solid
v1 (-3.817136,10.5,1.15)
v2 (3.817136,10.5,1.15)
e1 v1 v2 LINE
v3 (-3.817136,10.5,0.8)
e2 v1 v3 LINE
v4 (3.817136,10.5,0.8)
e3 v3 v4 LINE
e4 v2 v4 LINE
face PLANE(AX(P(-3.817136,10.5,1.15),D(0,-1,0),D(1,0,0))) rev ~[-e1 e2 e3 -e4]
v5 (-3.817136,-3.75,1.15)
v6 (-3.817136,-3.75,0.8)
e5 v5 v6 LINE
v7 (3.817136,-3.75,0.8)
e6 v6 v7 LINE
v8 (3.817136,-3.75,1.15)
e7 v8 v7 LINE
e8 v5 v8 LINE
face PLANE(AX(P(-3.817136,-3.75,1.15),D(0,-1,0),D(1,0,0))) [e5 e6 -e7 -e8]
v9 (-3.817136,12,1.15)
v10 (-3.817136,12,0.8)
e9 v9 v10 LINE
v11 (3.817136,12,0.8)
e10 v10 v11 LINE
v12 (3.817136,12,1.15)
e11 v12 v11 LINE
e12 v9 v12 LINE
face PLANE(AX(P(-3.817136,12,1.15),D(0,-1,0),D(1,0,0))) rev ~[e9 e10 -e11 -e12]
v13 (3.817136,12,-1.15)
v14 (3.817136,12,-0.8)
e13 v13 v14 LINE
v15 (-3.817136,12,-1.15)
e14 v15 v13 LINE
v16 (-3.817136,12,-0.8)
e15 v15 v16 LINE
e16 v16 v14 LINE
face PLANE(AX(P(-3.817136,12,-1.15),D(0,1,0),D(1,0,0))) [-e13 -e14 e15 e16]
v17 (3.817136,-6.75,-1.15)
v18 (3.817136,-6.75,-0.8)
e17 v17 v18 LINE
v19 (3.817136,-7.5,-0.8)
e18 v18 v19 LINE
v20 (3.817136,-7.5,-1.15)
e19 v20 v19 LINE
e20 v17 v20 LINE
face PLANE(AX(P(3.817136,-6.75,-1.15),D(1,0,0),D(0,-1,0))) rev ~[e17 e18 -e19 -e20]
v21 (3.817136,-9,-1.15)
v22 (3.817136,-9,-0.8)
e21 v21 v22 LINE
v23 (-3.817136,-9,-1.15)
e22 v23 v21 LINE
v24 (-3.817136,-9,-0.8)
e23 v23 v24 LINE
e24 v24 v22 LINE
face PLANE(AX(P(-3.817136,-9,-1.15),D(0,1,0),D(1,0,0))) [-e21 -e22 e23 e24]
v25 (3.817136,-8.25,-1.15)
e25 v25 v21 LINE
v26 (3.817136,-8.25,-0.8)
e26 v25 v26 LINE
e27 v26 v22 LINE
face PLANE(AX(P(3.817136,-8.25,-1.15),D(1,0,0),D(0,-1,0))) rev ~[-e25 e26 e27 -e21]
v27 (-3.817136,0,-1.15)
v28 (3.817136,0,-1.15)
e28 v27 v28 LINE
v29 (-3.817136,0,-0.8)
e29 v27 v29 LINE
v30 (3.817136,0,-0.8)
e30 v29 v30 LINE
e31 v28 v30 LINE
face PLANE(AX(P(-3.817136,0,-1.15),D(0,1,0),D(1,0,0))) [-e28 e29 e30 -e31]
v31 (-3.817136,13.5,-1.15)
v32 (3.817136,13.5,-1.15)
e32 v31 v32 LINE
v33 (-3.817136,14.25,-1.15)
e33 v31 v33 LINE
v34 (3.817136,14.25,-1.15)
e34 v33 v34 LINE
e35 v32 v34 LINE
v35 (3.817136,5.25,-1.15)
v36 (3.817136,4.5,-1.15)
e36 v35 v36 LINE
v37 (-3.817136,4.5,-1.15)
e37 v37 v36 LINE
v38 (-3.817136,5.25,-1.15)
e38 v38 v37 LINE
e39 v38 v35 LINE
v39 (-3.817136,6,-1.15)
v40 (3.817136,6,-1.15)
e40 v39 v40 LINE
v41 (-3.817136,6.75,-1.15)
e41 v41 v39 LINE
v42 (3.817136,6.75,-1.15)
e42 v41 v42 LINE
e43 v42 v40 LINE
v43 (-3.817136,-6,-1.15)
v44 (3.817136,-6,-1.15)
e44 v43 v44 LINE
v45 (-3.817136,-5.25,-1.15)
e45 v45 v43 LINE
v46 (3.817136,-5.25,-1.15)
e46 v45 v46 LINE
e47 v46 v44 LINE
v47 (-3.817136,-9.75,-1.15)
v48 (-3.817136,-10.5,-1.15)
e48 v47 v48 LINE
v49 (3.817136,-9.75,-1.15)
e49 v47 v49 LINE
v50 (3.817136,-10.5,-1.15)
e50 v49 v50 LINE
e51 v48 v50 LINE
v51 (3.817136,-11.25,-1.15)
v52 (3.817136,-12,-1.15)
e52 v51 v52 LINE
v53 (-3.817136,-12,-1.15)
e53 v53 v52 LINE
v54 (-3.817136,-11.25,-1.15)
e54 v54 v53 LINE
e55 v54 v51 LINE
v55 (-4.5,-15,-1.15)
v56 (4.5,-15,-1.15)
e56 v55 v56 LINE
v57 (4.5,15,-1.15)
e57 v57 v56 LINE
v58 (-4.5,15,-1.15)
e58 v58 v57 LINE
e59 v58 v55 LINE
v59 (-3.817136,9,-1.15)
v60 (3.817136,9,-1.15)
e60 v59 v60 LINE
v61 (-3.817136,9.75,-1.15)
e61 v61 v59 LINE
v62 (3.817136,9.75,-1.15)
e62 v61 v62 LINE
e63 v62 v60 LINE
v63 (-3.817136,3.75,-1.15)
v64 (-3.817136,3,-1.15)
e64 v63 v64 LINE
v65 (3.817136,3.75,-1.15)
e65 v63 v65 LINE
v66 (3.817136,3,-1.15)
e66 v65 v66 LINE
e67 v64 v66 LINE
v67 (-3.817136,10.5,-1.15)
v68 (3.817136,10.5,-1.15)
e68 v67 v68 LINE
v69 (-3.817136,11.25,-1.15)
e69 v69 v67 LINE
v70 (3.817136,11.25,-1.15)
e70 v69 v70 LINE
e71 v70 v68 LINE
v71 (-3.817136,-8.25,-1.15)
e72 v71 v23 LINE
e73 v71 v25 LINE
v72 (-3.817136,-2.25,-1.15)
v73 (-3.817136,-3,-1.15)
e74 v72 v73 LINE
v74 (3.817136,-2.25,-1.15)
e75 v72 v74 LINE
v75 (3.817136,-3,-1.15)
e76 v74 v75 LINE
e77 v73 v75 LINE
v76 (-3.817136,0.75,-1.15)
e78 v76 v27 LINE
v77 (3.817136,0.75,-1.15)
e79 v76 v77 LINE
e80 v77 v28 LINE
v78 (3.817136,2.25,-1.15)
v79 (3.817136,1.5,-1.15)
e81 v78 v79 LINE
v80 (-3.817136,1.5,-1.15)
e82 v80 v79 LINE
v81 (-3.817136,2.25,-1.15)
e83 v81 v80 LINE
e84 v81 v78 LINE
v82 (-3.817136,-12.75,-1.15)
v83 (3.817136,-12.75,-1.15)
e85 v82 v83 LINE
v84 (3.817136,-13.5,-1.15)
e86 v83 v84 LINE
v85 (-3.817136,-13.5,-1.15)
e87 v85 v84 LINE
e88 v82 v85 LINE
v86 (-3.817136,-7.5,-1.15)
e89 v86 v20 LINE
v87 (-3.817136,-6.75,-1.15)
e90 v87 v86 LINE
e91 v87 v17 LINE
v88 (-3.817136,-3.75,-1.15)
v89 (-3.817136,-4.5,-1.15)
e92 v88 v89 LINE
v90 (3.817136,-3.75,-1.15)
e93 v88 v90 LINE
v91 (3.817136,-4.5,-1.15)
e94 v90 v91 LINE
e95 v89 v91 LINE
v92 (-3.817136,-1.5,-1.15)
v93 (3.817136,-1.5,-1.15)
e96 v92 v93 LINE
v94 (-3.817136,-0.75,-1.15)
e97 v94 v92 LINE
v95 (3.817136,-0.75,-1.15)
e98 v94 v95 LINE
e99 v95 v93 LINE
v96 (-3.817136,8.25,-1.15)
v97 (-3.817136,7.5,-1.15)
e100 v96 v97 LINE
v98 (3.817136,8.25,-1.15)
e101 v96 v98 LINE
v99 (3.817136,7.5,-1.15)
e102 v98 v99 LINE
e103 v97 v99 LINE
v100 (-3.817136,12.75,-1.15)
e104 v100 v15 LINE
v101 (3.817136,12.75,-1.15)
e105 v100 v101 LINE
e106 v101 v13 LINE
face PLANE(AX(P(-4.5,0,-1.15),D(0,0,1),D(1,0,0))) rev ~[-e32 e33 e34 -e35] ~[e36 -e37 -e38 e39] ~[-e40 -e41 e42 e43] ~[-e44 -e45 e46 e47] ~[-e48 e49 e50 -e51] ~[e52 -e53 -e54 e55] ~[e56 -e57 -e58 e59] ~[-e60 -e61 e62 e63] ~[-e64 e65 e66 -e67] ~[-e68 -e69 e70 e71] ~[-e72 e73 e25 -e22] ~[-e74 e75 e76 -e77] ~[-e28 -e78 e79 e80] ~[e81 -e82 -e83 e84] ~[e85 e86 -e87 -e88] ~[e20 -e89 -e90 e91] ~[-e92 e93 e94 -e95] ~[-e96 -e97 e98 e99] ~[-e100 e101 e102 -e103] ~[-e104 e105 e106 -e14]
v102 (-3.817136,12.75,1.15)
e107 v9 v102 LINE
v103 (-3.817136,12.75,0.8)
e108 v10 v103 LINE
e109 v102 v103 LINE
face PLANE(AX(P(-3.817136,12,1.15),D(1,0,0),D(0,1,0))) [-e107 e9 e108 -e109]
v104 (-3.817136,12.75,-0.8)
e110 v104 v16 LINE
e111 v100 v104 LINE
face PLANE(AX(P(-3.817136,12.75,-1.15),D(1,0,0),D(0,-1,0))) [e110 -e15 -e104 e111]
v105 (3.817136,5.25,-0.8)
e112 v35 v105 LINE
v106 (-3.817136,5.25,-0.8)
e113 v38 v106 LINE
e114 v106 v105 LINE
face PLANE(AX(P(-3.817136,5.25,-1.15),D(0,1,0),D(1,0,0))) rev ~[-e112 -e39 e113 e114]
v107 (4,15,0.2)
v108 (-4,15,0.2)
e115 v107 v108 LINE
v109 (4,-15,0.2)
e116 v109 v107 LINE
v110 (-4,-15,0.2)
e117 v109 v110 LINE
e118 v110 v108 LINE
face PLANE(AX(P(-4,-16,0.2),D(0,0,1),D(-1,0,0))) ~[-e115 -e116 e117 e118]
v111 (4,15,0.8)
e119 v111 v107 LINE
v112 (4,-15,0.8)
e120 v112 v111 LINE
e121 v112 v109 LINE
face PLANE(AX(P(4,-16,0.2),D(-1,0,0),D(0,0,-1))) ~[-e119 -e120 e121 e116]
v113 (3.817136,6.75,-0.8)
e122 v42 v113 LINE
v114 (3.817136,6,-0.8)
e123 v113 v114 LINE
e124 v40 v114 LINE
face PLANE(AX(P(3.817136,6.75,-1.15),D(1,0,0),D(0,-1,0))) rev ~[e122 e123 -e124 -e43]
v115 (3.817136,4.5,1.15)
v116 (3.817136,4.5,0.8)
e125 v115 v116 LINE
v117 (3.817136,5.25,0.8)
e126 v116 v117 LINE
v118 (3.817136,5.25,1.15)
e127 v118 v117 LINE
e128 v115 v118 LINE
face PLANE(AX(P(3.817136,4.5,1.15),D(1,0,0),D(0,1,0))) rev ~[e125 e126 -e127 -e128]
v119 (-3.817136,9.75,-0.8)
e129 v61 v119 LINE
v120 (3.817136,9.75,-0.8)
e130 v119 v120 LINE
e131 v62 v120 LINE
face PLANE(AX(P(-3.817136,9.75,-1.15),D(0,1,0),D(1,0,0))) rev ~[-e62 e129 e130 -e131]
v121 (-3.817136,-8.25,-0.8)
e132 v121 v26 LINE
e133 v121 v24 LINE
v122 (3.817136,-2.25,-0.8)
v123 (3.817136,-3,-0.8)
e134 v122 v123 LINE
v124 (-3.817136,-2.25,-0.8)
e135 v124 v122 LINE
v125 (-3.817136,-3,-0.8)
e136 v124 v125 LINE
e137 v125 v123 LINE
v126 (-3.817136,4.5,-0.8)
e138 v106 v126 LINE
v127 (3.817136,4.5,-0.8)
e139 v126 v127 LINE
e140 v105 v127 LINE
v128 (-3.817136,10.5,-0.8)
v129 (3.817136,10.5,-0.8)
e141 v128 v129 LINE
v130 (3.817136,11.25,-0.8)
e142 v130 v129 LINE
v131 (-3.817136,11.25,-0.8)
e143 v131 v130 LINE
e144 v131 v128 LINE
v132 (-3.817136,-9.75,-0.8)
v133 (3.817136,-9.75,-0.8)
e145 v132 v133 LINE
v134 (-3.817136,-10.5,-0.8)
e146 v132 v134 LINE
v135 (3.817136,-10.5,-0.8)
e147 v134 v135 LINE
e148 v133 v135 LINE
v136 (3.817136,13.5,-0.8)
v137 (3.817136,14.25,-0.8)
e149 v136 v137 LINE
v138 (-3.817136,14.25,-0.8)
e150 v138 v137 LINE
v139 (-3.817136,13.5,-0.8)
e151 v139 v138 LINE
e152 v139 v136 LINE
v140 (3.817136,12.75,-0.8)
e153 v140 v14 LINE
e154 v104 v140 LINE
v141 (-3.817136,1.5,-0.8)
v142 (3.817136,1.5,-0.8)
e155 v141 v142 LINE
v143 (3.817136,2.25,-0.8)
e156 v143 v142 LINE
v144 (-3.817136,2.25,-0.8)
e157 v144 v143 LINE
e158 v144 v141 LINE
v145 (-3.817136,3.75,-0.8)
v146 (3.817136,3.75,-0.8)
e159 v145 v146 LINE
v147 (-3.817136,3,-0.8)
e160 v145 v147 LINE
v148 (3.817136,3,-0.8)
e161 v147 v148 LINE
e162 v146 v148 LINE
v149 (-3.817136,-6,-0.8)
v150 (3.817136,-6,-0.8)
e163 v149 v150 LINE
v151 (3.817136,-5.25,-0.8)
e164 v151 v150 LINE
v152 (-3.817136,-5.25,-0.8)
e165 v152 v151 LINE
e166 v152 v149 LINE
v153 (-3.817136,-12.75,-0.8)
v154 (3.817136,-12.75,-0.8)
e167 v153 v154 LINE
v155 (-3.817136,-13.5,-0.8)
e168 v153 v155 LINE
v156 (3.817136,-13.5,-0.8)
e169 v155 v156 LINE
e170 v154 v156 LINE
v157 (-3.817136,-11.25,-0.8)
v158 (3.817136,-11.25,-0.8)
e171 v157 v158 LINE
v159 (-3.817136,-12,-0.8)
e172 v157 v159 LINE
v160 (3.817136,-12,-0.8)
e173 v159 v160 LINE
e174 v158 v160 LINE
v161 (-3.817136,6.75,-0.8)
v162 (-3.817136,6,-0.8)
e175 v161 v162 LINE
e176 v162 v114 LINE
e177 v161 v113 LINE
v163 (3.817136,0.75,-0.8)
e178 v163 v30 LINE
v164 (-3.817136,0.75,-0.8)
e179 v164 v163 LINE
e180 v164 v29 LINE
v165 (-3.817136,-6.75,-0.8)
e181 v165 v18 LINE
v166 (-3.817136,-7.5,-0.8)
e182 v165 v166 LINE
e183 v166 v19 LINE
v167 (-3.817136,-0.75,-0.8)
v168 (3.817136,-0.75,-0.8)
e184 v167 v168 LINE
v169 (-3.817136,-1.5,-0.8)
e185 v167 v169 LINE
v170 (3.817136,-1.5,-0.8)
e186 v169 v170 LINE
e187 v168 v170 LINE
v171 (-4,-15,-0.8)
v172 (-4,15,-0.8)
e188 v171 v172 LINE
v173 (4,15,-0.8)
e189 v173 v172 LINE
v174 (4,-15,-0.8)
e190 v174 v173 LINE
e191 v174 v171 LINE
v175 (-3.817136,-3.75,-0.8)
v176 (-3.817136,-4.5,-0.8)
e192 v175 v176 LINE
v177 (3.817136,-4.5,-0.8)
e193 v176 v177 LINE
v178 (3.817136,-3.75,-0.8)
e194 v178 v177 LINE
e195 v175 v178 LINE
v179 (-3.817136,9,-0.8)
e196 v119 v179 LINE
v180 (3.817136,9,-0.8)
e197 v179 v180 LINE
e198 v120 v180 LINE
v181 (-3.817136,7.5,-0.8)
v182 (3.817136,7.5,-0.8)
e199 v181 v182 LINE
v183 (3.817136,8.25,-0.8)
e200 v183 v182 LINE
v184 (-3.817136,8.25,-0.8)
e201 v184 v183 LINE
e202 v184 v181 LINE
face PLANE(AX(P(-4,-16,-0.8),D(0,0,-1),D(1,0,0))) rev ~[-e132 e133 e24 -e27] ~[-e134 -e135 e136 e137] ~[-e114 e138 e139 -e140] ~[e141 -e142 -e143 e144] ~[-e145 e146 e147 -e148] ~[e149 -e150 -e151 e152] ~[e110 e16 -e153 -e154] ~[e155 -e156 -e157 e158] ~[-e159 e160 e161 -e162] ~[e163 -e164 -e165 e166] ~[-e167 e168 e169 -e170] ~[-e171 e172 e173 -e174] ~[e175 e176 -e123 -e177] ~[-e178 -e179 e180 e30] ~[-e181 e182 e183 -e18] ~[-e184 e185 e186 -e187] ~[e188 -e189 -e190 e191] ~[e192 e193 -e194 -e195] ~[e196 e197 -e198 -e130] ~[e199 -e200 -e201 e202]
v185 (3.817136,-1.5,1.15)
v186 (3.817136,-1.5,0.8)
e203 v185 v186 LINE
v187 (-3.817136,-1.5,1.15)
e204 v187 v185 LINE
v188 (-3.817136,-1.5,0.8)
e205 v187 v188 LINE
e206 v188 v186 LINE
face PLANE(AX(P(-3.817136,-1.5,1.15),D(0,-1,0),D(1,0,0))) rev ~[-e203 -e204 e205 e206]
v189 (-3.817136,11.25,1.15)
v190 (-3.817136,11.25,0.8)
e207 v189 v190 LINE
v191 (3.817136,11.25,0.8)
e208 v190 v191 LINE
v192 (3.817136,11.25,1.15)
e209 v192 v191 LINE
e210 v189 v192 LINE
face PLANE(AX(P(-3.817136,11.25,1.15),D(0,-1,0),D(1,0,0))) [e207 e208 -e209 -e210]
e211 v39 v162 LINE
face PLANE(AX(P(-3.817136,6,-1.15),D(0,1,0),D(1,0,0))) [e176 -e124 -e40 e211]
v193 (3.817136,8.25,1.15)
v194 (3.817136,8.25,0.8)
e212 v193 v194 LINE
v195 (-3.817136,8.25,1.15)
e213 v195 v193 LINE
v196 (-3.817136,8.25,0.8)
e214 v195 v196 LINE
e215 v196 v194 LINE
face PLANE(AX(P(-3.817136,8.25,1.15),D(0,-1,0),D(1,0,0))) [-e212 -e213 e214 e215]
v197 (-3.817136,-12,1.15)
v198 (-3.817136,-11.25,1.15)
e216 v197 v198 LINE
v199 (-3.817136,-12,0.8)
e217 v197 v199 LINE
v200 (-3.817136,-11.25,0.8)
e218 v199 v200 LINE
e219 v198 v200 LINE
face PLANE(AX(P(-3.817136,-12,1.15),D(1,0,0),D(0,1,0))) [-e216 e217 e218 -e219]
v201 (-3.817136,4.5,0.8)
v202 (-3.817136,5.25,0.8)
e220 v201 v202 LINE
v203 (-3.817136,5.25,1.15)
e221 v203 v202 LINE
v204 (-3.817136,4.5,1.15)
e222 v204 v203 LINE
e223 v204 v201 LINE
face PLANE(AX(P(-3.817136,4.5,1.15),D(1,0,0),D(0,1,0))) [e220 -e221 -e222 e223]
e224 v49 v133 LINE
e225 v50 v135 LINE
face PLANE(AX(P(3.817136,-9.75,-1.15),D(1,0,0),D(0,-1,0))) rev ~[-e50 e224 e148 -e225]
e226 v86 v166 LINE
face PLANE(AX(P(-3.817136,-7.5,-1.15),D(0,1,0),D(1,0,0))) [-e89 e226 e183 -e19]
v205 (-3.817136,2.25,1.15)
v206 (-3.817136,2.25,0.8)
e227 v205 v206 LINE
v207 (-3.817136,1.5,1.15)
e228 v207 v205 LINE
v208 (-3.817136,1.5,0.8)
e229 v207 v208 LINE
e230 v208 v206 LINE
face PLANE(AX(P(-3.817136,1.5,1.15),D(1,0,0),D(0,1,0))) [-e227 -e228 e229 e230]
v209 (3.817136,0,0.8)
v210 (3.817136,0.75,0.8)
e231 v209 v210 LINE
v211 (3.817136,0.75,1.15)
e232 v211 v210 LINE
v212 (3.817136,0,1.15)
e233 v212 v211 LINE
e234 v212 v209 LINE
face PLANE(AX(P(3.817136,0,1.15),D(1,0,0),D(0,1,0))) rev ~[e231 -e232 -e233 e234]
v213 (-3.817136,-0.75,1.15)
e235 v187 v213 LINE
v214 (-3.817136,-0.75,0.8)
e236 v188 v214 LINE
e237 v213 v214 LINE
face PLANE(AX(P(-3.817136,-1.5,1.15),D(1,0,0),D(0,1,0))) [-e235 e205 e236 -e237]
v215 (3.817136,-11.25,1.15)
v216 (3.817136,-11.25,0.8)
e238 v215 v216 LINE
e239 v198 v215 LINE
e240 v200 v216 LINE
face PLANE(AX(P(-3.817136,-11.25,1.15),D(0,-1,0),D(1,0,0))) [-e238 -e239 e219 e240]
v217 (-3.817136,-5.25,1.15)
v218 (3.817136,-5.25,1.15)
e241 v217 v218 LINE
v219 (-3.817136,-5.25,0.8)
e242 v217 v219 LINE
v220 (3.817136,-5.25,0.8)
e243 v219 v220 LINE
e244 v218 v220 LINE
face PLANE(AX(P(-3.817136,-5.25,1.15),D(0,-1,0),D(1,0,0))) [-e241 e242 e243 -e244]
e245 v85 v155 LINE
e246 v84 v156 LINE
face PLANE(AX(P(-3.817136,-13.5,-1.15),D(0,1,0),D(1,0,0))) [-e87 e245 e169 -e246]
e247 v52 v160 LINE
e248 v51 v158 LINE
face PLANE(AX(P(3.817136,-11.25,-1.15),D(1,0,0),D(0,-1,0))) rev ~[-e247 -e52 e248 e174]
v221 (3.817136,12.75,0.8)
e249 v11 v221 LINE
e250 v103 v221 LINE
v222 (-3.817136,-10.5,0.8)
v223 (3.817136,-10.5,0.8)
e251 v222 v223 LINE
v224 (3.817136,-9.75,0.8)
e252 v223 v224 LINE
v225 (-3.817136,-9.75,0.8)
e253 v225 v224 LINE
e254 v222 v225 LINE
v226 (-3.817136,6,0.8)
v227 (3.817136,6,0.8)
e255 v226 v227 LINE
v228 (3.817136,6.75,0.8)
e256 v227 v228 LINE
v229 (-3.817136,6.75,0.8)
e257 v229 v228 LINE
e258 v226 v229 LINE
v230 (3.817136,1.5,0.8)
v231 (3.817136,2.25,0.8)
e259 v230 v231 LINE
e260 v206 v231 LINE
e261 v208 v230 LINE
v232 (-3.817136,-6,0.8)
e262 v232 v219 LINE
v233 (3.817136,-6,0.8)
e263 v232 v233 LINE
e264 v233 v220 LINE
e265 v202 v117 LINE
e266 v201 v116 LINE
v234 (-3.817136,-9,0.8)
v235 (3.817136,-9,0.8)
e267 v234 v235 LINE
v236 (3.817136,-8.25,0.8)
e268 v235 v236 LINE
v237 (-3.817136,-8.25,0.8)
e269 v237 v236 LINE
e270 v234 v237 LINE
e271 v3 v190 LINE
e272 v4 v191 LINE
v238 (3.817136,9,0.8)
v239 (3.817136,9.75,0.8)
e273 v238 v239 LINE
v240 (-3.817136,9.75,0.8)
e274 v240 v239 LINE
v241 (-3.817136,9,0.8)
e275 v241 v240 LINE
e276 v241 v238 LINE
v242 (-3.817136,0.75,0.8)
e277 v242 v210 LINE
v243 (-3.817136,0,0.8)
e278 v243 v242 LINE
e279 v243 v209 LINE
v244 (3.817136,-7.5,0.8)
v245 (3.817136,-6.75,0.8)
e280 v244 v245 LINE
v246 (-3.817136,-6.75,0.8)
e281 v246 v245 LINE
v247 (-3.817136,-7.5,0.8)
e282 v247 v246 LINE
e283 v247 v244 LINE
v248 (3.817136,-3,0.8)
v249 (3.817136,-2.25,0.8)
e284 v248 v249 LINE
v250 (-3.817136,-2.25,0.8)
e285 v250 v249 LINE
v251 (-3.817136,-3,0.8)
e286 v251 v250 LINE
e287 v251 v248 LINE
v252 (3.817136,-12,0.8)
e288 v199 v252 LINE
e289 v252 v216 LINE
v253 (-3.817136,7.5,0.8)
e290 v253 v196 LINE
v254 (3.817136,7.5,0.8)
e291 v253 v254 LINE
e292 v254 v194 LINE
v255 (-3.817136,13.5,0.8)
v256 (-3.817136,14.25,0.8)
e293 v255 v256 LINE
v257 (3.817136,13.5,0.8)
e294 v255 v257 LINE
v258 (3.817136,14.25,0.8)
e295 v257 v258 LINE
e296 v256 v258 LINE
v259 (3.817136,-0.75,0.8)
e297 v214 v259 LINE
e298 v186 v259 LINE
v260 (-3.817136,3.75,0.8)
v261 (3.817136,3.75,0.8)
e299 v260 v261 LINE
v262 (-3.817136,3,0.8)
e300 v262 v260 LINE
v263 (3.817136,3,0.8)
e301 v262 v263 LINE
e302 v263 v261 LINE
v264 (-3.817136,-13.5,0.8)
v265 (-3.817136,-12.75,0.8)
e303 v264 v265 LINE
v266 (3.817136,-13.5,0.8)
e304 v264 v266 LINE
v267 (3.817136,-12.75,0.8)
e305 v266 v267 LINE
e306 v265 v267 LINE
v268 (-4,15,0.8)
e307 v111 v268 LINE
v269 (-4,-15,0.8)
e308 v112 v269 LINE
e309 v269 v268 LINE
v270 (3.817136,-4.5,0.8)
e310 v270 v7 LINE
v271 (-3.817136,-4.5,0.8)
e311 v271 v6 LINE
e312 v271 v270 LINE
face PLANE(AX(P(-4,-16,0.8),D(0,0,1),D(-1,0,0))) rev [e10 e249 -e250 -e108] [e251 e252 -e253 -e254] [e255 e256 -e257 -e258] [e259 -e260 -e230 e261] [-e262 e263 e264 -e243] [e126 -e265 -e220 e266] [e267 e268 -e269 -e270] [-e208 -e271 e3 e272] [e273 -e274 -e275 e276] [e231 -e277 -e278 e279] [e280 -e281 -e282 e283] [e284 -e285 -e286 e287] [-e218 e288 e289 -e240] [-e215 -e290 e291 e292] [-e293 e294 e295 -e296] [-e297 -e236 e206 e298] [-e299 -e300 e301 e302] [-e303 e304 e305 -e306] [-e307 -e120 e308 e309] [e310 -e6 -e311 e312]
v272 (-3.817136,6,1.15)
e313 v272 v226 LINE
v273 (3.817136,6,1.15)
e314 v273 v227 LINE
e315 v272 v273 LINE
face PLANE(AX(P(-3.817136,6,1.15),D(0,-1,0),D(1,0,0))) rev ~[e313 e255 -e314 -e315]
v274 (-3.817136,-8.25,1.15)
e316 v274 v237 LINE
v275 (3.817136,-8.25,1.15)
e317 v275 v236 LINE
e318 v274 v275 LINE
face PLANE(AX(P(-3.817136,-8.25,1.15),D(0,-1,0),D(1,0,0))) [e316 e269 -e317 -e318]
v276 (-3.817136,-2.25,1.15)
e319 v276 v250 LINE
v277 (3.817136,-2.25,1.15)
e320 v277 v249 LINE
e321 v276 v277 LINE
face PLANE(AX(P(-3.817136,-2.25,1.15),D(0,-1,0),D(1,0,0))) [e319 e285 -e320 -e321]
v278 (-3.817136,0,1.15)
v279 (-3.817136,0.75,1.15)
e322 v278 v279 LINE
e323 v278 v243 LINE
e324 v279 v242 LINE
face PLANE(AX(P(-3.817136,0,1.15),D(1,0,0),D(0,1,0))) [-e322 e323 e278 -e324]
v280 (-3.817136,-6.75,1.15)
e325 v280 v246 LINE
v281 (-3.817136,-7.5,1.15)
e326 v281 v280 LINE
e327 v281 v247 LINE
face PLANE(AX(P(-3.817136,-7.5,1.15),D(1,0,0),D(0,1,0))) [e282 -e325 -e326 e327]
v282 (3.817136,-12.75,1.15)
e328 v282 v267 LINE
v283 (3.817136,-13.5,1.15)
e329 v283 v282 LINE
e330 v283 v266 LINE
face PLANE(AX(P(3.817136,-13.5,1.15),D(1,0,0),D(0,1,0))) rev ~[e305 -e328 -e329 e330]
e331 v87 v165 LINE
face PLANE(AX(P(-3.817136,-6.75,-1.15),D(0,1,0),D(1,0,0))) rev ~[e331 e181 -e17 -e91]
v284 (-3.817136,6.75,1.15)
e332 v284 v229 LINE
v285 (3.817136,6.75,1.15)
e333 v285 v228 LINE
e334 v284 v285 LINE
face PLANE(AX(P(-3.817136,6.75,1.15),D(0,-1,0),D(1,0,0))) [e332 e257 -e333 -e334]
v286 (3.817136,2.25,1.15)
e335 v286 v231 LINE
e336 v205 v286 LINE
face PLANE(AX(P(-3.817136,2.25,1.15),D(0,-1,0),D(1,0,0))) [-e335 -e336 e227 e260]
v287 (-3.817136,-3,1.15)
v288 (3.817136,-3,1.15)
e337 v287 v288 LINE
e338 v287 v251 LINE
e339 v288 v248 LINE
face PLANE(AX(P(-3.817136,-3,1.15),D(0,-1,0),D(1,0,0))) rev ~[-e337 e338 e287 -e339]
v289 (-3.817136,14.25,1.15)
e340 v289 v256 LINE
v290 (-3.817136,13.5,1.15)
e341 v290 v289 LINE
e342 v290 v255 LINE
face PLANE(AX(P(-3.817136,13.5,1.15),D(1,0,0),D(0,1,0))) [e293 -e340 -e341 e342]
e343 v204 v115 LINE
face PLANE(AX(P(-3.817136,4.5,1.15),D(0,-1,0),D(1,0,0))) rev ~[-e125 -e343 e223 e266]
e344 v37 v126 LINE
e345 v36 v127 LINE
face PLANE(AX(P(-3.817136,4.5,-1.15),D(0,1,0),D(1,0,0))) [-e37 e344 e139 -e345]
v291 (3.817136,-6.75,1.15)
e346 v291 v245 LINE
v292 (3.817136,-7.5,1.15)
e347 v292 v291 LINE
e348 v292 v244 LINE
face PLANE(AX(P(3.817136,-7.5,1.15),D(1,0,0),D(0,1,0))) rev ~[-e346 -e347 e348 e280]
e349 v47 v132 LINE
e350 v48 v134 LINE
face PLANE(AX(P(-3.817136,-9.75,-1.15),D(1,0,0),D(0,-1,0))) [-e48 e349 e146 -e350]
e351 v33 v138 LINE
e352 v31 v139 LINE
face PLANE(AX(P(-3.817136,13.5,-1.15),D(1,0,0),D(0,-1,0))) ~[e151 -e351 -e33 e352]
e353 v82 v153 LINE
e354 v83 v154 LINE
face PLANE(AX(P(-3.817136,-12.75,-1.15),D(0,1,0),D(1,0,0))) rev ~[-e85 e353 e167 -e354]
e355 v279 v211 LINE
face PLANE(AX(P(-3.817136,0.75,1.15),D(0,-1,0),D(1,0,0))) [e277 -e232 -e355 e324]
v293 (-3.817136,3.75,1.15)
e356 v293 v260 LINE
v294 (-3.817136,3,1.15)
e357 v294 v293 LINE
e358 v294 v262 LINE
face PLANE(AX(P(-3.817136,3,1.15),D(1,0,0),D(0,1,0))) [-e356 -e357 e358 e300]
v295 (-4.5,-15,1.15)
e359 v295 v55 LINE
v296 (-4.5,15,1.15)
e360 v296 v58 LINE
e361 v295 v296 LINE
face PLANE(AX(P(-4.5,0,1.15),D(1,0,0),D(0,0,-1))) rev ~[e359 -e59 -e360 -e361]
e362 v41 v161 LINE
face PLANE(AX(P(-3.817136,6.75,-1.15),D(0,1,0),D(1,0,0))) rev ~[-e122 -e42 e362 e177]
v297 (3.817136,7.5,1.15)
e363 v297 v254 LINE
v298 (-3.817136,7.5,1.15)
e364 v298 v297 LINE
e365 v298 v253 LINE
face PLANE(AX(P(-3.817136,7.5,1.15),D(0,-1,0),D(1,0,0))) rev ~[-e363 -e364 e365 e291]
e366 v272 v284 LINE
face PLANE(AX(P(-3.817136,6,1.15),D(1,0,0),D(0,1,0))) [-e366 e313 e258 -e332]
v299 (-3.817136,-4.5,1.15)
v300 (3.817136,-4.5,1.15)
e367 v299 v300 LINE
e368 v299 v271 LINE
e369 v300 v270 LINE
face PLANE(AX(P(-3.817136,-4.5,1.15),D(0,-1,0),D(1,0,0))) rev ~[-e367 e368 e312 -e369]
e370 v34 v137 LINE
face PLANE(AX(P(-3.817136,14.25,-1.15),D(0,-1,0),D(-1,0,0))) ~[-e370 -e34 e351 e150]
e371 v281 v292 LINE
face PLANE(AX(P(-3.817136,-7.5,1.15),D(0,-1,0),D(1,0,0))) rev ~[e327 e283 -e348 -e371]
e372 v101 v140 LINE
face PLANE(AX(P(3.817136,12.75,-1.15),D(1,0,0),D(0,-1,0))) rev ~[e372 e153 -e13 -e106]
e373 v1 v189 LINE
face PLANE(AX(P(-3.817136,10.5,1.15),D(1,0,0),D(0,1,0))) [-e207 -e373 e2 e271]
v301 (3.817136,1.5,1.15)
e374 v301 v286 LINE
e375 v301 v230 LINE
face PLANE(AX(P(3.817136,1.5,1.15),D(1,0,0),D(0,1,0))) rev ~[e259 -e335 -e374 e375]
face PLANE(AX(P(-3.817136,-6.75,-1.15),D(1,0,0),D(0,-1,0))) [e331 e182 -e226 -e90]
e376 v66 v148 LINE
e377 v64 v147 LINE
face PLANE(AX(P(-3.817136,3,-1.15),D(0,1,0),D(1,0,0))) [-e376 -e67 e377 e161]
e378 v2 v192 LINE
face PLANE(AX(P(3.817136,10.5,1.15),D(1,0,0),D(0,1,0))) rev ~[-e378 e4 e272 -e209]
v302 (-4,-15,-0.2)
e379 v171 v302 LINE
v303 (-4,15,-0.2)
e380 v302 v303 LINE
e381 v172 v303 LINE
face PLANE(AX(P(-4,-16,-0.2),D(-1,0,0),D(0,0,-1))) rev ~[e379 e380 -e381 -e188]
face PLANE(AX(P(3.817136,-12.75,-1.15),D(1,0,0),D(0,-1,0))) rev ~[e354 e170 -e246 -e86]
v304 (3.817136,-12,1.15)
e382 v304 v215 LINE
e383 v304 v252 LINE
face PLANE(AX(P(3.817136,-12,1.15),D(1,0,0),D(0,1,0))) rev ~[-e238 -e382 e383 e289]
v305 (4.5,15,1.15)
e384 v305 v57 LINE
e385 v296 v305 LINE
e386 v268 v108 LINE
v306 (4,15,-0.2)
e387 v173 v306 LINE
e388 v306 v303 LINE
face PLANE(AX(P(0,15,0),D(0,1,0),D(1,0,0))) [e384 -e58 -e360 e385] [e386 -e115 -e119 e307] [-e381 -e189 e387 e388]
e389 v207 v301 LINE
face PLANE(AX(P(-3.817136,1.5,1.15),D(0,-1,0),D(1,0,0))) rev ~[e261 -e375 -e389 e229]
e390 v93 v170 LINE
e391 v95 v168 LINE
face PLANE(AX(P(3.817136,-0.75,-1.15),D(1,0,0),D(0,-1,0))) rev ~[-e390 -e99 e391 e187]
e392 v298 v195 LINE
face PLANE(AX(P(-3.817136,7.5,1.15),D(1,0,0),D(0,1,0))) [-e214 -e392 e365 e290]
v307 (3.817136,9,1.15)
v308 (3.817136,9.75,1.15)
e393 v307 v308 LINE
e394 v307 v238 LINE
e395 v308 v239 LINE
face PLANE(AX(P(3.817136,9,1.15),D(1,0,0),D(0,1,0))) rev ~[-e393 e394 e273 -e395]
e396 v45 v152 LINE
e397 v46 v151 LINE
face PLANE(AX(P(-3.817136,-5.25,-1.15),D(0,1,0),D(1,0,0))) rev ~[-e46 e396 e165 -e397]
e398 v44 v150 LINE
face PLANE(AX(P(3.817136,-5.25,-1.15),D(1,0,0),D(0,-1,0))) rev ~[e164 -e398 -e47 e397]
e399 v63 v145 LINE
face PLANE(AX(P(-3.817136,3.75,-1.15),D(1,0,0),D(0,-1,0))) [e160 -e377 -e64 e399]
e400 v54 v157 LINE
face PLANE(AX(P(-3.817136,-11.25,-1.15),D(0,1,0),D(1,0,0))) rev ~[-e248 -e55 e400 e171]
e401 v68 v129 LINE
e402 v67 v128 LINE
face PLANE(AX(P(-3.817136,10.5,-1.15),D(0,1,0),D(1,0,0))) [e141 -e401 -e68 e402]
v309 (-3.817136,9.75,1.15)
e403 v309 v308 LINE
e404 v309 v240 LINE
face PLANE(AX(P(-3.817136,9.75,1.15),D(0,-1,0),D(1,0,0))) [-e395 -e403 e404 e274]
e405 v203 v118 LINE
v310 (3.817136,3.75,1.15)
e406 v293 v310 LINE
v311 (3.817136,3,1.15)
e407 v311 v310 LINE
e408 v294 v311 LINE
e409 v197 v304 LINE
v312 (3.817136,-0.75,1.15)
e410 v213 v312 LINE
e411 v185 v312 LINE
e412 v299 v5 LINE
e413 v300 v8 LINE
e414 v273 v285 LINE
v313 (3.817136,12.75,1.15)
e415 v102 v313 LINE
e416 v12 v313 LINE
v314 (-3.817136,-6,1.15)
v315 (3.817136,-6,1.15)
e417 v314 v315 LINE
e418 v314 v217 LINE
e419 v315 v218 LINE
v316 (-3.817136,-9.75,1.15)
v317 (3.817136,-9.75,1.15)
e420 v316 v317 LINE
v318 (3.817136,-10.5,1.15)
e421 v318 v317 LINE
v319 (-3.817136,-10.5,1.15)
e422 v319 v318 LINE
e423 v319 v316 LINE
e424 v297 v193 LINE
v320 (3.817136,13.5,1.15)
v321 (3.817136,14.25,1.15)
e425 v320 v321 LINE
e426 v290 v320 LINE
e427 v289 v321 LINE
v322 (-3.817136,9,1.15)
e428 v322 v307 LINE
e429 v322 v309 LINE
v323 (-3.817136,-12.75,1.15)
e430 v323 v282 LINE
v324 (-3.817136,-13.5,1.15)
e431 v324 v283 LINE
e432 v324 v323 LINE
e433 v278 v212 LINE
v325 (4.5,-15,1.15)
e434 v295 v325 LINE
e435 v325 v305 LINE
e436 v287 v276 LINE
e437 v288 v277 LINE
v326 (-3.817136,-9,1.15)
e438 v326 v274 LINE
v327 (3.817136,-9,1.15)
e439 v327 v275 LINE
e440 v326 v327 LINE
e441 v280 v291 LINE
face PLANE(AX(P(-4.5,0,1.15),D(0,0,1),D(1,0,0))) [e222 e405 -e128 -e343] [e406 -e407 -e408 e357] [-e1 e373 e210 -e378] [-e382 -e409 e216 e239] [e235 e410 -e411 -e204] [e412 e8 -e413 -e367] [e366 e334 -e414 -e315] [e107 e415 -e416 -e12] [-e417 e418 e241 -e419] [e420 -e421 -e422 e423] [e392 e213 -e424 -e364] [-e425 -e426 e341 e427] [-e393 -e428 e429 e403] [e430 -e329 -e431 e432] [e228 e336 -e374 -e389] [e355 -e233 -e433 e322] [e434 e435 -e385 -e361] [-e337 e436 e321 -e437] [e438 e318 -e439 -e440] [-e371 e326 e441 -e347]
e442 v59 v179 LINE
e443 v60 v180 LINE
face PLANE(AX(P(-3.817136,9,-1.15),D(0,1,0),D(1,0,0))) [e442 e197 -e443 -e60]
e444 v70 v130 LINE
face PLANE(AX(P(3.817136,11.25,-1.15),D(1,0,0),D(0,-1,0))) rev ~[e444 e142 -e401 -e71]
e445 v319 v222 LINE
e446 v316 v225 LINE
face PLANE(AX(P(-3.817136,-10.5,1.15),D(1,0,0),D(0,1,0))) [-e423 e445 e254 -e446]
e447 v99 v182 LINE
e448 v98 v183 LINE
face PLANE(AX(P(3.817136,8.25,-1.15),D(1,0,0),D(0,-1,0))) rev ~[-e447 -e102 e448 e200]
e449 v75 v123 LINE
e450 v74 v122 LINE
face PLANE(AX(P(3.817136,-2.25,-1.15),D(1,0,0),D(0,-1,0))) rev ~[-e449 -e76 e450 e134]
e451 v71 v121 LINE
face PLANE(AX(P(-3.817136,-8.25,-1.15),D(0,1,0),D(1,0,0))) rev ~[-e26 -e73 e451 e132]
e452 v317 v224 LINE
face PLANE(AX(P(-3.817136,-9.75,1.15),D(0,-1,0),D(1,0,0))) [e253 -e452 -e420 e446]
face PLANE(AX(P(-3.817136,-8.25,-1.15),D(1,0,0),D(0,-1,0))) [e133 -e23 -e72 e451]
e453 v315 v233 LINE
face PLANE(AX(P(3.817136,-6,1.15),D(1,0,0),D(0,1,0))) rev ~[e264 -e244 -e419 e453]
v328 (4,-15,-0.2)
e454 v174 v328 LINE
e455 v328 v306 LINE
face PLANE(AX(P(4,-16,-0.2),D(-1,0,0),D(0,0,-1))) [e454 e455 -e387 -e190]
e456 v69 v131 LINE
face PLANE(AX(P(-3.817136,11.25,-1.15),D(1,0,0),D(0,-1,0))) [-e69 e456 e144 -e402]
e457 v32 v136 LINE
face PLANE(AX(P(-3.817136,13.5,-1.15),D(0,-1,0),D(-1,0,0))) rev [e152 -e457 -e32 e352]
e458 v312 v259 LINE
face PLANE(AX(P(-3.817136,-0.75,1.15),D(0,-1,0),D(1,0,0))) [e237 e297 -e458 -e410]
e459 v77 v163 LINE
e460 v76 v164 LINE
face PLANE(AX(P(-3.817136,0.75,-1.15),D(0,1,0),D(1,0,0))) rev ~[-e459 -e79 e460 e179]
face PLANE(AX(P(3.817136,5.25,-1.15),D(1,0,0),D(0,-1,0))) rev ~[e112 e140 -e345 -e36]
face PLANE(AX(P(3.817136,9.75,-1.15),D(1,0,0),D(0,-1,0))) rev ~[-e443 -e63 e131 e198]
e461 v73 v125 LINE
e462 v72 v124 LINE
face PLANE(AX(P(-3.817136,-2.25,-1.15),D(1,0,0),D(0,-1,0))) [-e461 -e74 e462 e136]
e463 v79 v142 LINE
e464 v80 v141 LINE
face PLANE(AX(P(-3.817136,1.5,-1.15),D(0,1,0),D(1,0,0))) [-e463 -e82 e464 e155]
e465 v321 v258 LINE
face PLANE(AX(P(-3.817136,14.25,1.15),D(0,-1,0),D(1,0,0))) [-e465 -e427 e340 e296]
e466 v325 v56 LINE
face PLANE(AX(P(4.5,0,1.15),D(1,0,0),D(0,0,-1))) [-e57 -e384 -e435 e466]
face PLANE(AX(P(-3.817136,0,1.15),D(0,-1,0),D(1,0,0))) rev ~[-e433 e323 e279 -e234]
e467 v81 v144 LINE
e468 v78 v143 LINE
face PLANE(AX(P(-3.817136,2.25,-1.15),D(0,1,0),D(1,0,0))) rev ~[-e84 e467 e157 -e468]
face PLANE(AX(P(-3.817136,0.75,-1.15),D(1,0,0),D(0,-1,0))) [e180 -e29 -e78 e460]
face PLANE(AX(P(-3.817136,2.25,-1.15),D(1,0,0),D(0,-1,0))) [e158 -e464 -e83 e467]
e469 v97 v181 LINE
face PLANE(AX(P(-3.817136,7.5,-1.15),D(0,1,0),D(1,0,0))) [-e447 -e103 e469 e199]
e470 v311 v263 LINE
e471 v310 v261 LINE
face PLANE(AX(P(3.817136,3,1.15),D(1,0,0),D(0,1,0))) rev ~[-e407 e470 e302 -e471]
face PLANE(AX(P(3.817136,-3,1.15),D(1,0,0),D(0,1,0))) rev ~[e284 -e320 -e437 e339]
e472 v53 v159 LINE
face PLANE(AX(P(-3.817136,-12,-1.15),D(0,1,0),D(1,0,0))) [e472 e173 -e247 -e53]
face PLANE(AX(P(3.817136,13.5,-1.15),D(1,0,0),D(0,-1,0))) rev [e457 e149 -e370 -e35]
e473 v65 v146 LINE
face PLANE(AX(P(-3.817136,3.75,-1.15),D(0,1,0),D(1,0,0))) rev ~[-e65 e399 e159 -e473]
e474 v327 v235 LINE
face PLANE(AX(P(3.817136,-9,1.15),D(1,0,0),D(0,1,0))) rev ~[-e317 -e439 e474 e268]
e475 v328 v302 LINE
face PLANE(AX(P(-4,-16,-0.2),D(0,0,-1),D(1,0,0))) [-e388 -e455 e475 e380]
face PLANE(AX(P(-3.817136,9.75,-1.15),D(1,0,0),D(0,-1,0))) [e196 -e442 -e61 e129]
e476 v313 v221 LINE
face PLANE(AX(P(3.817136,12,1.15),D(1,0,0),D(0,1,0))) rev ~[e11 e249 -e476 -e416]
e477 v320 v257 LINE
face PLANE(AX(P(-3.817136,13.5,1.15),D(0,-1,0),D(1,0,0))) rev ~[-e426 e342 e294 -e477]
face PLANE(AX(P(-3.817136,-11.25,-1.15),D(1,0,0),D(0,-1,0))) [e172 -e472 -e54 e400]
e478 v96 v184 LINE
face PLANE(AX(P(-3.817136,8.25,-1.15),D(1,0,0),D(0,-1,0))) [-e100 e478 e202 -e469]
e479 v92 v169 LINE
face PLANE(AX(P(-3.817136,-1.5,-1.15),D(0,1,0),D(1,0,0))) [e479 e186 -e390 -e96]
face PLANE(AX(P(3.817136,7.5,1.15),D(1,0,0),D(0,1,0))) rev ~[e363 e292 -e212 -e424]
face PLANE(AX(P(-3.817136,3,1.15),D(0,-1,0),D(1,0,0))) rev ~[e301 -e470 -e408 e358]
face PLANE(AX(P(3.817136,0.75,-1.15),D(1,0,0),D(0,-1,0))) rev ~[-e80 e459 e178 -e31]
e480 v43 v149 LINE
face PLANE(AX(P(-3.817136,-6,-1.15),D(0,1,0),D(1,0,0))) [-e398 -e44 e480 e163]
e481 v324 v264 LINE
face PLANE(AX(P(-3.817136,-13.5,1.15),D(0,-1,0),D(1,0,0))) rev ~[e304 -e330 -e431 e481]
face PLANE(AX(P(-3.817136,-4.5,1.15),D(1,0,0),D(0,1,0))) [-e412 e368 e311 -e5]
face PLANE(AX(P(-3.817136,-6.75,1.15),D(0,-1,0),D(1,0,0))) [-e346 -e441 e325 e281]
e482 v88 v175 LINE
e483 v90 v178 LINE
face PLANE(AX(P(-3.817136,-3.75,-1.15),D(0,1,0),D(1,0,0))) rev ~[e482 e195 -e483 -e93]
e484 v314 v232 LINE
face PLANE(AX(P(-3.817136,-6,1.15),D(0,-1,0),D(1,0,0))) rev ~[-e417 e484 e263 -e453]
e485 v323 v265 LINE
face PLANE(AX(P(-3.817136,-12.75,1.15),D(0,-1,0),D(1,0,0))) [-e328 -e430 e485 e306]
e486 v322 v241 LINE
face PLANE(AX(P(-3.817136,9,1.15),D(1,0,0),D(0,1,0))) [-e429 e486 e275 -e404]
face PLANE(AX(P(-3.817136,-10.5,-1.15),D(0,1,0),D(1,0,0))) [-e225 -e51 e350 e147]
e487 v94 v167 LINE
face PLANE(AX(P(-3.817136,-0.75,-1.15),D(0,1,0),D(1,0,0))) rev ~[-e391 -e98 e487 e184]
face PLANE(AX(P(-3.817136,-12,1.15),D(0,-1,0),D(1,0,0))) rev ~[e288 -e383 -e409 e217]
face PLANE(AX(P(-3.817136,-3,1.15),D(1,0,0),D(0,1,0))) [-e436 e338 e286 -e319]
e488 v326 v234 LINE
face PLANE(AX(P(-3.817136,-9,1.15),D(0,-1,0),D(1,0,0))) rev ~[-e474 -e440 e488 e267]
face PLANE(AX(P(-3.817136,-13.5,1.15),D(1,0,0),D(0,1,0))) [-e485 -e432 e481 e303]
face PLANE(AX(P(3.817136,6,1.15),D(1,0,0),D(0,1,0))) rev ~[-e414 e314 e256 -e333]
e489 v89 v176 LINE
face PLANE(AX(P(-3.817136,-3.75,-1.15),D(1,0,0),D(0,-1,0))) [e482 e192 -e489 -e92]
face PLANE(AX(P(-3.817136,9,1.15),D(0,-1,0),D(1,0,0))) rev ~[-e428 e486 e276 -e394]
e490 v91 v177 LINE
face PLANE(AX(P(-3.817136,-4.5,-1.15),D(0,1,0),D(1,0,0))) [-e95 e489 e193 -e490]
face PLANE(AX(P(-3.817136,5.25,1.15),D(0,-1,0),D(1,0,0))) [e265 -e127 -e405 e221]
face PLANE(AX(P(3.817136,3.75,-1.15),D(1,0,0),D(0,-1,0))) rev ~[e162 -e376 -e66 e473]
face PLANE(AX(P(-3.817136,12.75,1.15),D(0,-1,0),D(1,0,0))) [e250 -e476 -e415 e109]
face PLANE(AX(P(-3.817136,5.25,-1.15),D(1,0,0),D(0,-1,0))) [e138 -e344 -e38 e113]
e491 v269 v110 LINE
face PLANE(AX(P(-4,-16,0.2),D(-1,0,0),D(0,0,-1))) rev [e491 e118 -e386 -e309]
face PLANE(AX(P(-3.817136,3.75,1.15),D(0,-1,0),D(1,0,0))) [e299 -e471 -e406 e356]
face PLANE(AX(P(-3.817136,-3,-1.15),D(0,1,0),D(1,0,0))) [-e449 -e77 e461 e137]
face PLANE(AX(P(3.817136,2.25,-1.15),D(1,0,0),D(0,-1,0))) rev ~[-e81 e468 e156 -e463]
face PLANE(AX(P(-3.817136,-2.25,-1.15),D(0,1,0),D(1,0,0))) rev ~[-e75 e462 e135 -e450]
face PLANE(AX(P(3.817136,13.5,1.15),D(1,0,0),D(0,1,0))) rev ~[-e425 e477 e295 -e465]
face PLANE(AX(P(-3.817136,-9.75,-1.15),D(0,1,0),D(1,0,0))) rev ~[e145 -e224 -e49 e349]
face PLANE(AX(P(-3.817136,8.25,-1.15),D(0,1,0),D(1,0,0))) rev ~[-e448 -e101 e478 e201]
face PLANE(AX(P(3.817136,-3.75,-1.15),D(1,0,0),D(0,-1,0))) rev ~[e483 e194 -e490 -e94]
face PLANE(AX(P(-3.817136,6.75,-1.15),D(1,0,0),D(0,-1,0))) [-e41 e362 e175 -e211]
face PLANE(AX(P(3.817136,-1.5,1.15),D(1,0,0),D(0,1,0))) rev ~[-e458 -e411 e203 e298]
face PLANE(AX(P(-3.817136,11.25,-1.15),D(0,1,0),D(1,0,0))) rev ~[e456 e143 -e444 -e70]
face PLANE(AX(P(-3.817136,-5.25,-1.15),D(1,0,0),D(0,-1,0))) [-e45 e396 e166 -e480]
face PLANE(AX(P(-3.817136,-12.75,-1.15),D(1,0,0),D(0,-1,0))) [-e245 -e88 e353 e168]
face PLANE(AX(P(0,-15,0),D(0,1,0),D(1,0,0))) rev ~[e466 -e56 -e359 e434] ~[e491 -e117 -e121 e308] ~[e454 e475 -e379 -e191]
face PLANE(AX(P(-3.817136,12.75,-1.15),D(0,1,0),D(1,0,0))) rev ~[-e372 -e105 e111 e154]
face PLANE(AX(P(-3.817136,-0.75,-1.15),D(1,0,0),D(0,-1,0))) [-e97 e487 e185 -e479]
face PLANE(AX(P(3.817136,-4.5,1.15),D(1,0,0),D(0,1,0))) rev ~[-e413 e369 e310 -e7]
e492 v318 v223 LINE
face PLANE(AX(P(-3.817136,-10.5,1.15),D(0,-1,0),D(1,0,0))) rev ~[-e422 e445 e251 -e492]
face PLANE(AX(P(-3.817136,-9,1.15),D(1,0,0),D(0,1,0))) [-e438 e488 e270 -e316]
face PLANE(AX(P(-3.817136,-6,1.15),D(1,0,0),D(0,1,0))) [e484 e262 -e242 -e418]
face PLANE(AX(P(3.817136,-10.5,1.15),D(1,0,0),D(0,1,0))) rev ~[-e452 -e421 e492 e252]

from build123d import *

# Parameters (mm, degrees)
SKETCH1_W                = 9
SKETCH1_H                = 2.3
BOSS_EXTRUDE1_DEPTH      = 15
CUT_EXTRUDE1_START       = -31
SKETCH2_W                = 8
SKETCH2_H                = 0.6
CUT_EXTRUDE1_DEPTH       = 32
SKETCH3_W                = 7.634272068
SKETCH3_H                = 0.75
CUT_EXTRUDE2_DEPTH       = 0.35
LPATTERN1_COUNT          = 19
LPATTERN1_PITCH          = 1.5
MIRROR2_COPY_1_SKETCH_W  = 7.634272068
MIRROR2_COPY_1_SKETCH_H  = 0.75
MIRROR2_COPY_1_DEPTH     = 0.35
MIRROR2_COPY_2_SKETCH_W  = 7.634272068
MIRROR2_COPY_2_SKETCH_H  = 0.75
MIRROR2_COPY_2_DEPTH     = 0.35
MIRROR2_COPY_3_SKETCH_W  = 7.634272068
MIRROR2_COPY_3_SKETCH_H  = 0.75
MIRROR2_COPY_3_DEPTH     = 0.35
MIRROR2_COPY_4_SKETCH_W  = 7.634272068
MIRROR2_COPY_4_SKETCH_H  = 0.75
MIRROR2_COPY_4_DEPTH     = 0.35
MIRROR2_COPY_5_SKETCH_W  = 7.634272068
MIRROR2_COPY_5_SKETCH_H  = 0.75
MIRROR2_COPY_5_DEPTH     = 0.35
MIRROR2_COPY_6_SKETCH_W  = 7.634272068
MIRROR2_COPY_6_SKETCH_H  = 0.75
MIRROR2_COPY_6_DEPTH     = 0.35
MIRROR2_COPY_7_SKETCH_W  = 7.634272068
MIRROR2_COPY_7_SKETCH_H  = 0.75
MIRROR2_COPY_7_DEPTH     = 0.35
MIRROR2_COPY_8_SKETCH_W  = 7.634272068
MIRROR2_COPY_8_SKETCH_H  = 0.75
MIRROR2_COPY_8_DEPTH     = 0.35
MIRROR2_COPY_9_SKETCH_W  = 7.634272068
MIRROR2_COPY_9_SKETCH_H  = 0.75
MIRROR2_COPY_9_DEPTH     = 0.35
MIRROR2_COPY_10_SKETCH_W = 7.634272068
MIRROR2_COPY_10_SKETCH_H = 0.75
MIRROR2_COPY_10_DEPTH    = 0.35
MIRROR2_COPY_11_SKETCH_W = 7.634272068
MIRROR2_COPY_11_SKETCH_H = 0.75
MIRROR2_COPY_11_DEPTH    = 0.35
MIRROR2_COPY_12_SKETCH_W = 7.634272068
MIRROR2_COPY_12_SKETCH_H = 0.75
MIRROR2_COPY_12_DEPTH    = 0.35
MIRROR2_COPY_13_SKETCH_W = 7.634272068
MIRROR2_COPY_13_SKETCH_H = 0.75
MIRROR2_COPY_13_DEPTH    = 0.35
MIRROR2_COPY_14_SKETCH_W = 7.634272068
MIRROR2_COPY_14_SKETCH_H = 0.75
MIRROR2_COPY_14_DEPTH    = 0.35
MIRROR2_COPY_15_SKETCH_W = 7.634272068
MIRROR2_COPY_15_SKETCH_H = 0.75
MIRROR2_COPY_15_DEPTH    = 0.35
MIRROR2_COPY_16_SKETCH_W = 7.634272068
MIRROR2_COPY_16_SKETCH_H = 0.75
MIRROR2_COPY_16_DEPTH    = 0.35
MIRROR2_COPY_17_SKETCH_W = 7.634272068
MIRROR2_COPY_17_SKETCH_H = 0.75
MIRROR2_COPY_17_DEPTH    = 0.35
MIRROR2_COPY_18_SKETCH_W = 7.634272068
MIRROR2_COPY_18_SKETCH_H = 0.75
MIRROR2_COPY_18_DEPTH    = 0.35


with BuildPart() as part:
    # Sketch1 → Boss-Extrude1 (new body, symmetric)
    with BuildSketch(Plane(origin=(0, 0, 0), x_dir=(1, 0, 0), z_dir=(0, 1, 0))):
        Rectangle(SKETCH1_W, SKETCH1_H)
    extrude(amount=BOSS_EXTRUDE1_DEPTH, both=True)

    # Sketch2 → Cut-Extrude1 (cut)
    with BuildSketch(Plane(origin=(0, 15, 0), x_dir=(1, 0, 0), z_dir=(0, 1, 0)).offset(CUT_EXTRUDE1_START)):
        with Locations((0, 0.5)):
            Rectangle(SKETCH2_W, SKETCH2_H)
    cut_extrude1 = extrude(amount=CUT_EXTRUDE1_DEPTH, mode=Mode.SUBTRACT)

    # Mirror1: Cut-Extrude1 across plane
    add(cut_extrude1.mirror(Plane.XY), mode=Mode.SUBTRACT)

    # Sketch3 → Cut-Extrude2 (cut)
    with BuildSketch(Plane.XY.offset(1.15)):
        with Locations((0, 13.875)):
            Rectangle(SKETCH3_W, SKETCH3_H)
    cut_extrude2 = extrude(amount=-CUT_EXTRUDE2_DEPTH, mode=Mode.SUBTRACT)

    # LPattern1: Cut-Extrude2 ×19
    with Locations(*[(0, -i * LPATTERN1_PITCH, 0) for i in range(1, LPATTERN1_COUNT)]):
        add(cut_extrude2, mode=Mode.SUBTRACT)

    # Mirror2: Cut-Extrude2 across plane
    add(cut_extrude2.mirror(Plane.XY), mode=Mode.SUBTRACT)

    # Mirror2 copy 1 sketch → Mirror2 copy 1 (cut)
    with BuildSketch(Plane(origin=(0, -1.5, -1.15), x_dir=(1, 0, 0), z_dir=(0, 0, -1))):
        with Locations((0, -13.875)):
            Rectangle(MIRROR2_COPY_1_SKETCH_W, MIRROR2_COPY_1_SKETCH_H)
    extrude(amount=-MIRROR2_COPY_1_DEPTH, mode=Mode.SUBTRACT)

    # Mirror2 copy 2 sketch → Mirror2 copy 2 (cut)
    with BuildSketch(Plane(origin=(0, -3, -1.15), x_dir=(1, 0, 0), z_dir=(0, 0, -1))):
        with Locations((0, -13.875)):
            Rectangle(MIRROR2_COPY_2_SKETCH_W, MIRROR2_COPY_2_SKETCH_H)
    extrude(amount=-MIRROR2_COPY_2_DEPTH, mode=Mode.SUBTRACT)

    # Mirror2 copy 3 sketch → Mirror2 copy 3 (cut)
    with BuildSketch(Plane(origin=(0, -4.5, -1.15), x_dir=(1, 0, 0), z_dir=(0, 0, -1))):
        with Locations((0, -13.875)):
            Rectangle(MIRROR2_COPY_3_SKETCH_W, MIRROR2_COPY_3_SKETCH_H)
    extrude(amount=-MIRROR2_COPY_3_DEPTH, mode=Mode.SUBTRACT)

    # Mirror2 copy 4 sketch → Mirror2 copy 4 (cut)
    with BuildSketch(Plane(origin=(0, -6, -1.15), x_dir=(1, 0, 0), z_dir=(0, 0, -1))):
        with Locations((0, -13.875)):
            Rectangle(MIRROR2_COPY_4_SKETCH_W, MIRROR2_COPY_4_SKETCH_H)
    extrude(amount=-MIRROR2_COPY_4_DEPTH, mode=Mode.SUBTRACT)

    # Mirror2 copy 5 sketch → Mirror2 copy 5 (cut)
    with BuildSketch(Plane(origin=(0, -7.5, -1.15), x_dir=(1, 0, 0), z_dir=(0, 0, -1))):
        with Locations((0, -13.875)):
            Rectangle(MIRROR2_COPY_5_SKETCH_W, MIRROR2_COPY_5_SKETCH_H)
    extrude(amount=-MIRROR2_COPY_5_DEPTH, mode=Mode.SUBTRACT)

    # Mirror2 copy 6 sketch → Mirror2 copy 6 (cut)
    with BuildSketch(Plane(origin=(0, -9, -1.15), x_dir=(1, 0, 0), z_dir=(0, 0, -1))):
        with Locations((0, -13.875)):
            Rectangle(MIRROR2_COPY_6_SKETCH_W, MIRROR2_COPY_6_SKETCH_H)
    extrude(amount=-MIRROR2_COPY_6_DEPTH, mode=Mode.SUBTRACT)

    # Mirror2 copy 7 sketch → Mirror2 copy 7 (cut)
    with BuildSketch(Plane(origin=(0, -10.5, -1.15), x_dir=(1, 0, 0), z_dir=(0, 0, -1))):
        with Locations((0, -13.875)):
            Rectangle(MIRROR2_COPY_7_SKETCH_W, MIRROR2_COPY_7_SKETCH_H)
    extrude(amount=-MIRROR2_COPY_7_DEPTH, mode=Mode.SUBTRACT)

    # Mirror2 copy 8 sketch → Mirror2 copy 8 (cut)
    with BuildSketch(Plane(origin=(0, -12, -1.15), x_dir=(1, 0, 0), z_dir=(0, 0, -1))):
        with Locations((0, -13.875)):
            Rectangle(MIRROR2_COPY_8_SKETCH_W, MIRROR2_COPY_8_SKETCH_H)
    extrude(amount=-MIRROR2_COPY_8_DEPTH, mode=Mode.SUBTRACT)

    # Mirror2 copy 9 sketch → Mirror2 copy 9 (cut)
    with BuildSketch(Plane(origin=(0, -13.5, -1.15), x_dir=(1, 0, 0), z_dir=(0, 0, -1))):
        with Locations((0, -13.875)):
            Rectangle(MIRROR2_COPY_9_SKETCH_W, MIRROR2_COPY_9_SKETCH_H)
    extrude(amount=-MIRROR2_COPY_9_DEPTH, mode=Mode.SUBTRACT)

    # Mirror2 copy 10 sketch → Mirror2 copy 10 (cut)
    with BuildSketch(Plane(origin=(0, -15, -1.15), x_dir=(1, 0, 0), z_dir=(0, 0, -1))):
        with Locations((0, -13.875)):
            Rectangle(MIRROR2_COPY_10_SKETCH_W, MIRROR2_COPY_10_SKETCH_H)
    extrude(amount=-MIRROR2_COPY_10_DEPTH, mode=Mode.SUBTRACT)

    # Mirror2 copy 11 sketch → Mirror2 copy 11 (cut)
    with BuildSketch(Plane(origin=(0, -16.5, -1.15), x_dir=(1, 0, 0), z_dir=(0, 0, -1))):
        with Locations((0, -13.875)):
            Rectangle(MIRROR2_COPY_11_SKETCH_W, MIRROR2_COPY_11_SKETCH_H)
    extrude(amount=-MIRROR2_COPY_11_DEPTH, mode=Mode.SUBTRACT)

    # Mirror2 copy 12 sketch → Mirror2 copy 12 (cut)
    with BuildSketch(Plane(origin=(0, -18, -1.15), x_dir=(1, 0, 0), z_dir=(0, 0, -1))):
        with Locations((0, -13.875)):
            Rectangle(MIRROR2_COPY_12_SKETCH_W, MIRROR2_COPY_12_SKETCH_H)
    extrude(amount=-MIRROR2_COPY_12_DEPTH, mode=Mode.SUBTRACT)

    # Mirror2 copy 13 sketch → Mirror2 copy 13 (cut)
    with BuildSketch(Plane(origin=(0, -19.5, -1.15), x_dir=(1, 0, 0), z_dir=(0, 0, -1))):
        with Locations((0, -13.875)):
            Rectangle(MIRROR2_COPY_13_SKETCH_W, MIRROR2_COPY_13_SKETCH_H)
    extrude(amount=-MIRROR2_COPY_13_DEPTH, mode=Mode.SUBTRACT)

    # Mirror2 copy 14 sketch → Mirror2 copy 14 (cut)
    with BuildSketch(Plane(origin=(0, -21, -1.15), x_dir=(1, 0, 0), z_dir=(0, 0, -1))):
        with Locations((0, -13.875)):
            Rectangle(MIRROR2_COPY_14_SKETCH_W, MIRROR2_COPY_14_SKETCH_H)
    extrude(amount=-MIRROR2_COPY_14_DEPTH, mode=Mode.SUBTRACT)

    # Mirror2 copy 15 sketch → Mirror2 copy 15 (cut)
    with BuildSketch(Plane(origin=(0, -22.5, -1.15), x_dir=(1, 0, 0), z_dir=(0, 0, -1))):
        with Locations((0, -13.875)):
            Rectangle(MIRROR2_COPY_15_SKETCH_W, MIRROR2_COPY_15_SKETCH_H)
    extrude(amount=-MIRROR2_COPY_15_DEPTH, mode=Mode.SUBTRACT)

    # Mirror2 copy 16 sketch → Mirror2 copy 16 (cut)
    with BuildSketch(Plane(origin=(0, -24, -1.15), x_dir=(1, 0, 0), z_dir=(0, 0, -1))):
        with Locations((0, -13.875)):
            Rectangle(MIRROR2_COPY_16_SKETCH_W, MIRROR2_COPY_16_SKETCH_H)
    extrude(amount=-MIRROR2_COPY_16_DEPTH, mode=Mode.SUBTRACT)

    # Mirror2 copy 17 sketch → Mirror2 copy 17 (cut)
    with BuildSketch(Plane(origin=(0, -25.5, -1.15), x_dir=(1, 0, 0), z_dir=(0, 0, -1))):
        with Locations((0, -13.875)):
            Rectangle(MIRROR2_COPY_17_SKETCH_W, MIRROR2_COPY_17_SKETCH_H)
    extrude(amount=-MIRROR2_COPY_17_DEPTH, mode=Mode.SUBTRACT)

    # Mirror2 copy 18 sketch → Mirror2 copy 18 (cut)
    with BuildSketch(Plane(origin=(0, -27, -1.15), x_dir=(1, 0, 0), z_dir=(0, 0, -1))):
        with Locations((0, -13.875)):
            Rectangle(MIRROR2_COPY_18_SKETCH_W, MIRROR2_COPY_18_SKETCH_H)
    extrude(amount=-MIRROR2_COPY_18_DEPTH, mode=Mode.SUBTRACT)


solid = part.part
